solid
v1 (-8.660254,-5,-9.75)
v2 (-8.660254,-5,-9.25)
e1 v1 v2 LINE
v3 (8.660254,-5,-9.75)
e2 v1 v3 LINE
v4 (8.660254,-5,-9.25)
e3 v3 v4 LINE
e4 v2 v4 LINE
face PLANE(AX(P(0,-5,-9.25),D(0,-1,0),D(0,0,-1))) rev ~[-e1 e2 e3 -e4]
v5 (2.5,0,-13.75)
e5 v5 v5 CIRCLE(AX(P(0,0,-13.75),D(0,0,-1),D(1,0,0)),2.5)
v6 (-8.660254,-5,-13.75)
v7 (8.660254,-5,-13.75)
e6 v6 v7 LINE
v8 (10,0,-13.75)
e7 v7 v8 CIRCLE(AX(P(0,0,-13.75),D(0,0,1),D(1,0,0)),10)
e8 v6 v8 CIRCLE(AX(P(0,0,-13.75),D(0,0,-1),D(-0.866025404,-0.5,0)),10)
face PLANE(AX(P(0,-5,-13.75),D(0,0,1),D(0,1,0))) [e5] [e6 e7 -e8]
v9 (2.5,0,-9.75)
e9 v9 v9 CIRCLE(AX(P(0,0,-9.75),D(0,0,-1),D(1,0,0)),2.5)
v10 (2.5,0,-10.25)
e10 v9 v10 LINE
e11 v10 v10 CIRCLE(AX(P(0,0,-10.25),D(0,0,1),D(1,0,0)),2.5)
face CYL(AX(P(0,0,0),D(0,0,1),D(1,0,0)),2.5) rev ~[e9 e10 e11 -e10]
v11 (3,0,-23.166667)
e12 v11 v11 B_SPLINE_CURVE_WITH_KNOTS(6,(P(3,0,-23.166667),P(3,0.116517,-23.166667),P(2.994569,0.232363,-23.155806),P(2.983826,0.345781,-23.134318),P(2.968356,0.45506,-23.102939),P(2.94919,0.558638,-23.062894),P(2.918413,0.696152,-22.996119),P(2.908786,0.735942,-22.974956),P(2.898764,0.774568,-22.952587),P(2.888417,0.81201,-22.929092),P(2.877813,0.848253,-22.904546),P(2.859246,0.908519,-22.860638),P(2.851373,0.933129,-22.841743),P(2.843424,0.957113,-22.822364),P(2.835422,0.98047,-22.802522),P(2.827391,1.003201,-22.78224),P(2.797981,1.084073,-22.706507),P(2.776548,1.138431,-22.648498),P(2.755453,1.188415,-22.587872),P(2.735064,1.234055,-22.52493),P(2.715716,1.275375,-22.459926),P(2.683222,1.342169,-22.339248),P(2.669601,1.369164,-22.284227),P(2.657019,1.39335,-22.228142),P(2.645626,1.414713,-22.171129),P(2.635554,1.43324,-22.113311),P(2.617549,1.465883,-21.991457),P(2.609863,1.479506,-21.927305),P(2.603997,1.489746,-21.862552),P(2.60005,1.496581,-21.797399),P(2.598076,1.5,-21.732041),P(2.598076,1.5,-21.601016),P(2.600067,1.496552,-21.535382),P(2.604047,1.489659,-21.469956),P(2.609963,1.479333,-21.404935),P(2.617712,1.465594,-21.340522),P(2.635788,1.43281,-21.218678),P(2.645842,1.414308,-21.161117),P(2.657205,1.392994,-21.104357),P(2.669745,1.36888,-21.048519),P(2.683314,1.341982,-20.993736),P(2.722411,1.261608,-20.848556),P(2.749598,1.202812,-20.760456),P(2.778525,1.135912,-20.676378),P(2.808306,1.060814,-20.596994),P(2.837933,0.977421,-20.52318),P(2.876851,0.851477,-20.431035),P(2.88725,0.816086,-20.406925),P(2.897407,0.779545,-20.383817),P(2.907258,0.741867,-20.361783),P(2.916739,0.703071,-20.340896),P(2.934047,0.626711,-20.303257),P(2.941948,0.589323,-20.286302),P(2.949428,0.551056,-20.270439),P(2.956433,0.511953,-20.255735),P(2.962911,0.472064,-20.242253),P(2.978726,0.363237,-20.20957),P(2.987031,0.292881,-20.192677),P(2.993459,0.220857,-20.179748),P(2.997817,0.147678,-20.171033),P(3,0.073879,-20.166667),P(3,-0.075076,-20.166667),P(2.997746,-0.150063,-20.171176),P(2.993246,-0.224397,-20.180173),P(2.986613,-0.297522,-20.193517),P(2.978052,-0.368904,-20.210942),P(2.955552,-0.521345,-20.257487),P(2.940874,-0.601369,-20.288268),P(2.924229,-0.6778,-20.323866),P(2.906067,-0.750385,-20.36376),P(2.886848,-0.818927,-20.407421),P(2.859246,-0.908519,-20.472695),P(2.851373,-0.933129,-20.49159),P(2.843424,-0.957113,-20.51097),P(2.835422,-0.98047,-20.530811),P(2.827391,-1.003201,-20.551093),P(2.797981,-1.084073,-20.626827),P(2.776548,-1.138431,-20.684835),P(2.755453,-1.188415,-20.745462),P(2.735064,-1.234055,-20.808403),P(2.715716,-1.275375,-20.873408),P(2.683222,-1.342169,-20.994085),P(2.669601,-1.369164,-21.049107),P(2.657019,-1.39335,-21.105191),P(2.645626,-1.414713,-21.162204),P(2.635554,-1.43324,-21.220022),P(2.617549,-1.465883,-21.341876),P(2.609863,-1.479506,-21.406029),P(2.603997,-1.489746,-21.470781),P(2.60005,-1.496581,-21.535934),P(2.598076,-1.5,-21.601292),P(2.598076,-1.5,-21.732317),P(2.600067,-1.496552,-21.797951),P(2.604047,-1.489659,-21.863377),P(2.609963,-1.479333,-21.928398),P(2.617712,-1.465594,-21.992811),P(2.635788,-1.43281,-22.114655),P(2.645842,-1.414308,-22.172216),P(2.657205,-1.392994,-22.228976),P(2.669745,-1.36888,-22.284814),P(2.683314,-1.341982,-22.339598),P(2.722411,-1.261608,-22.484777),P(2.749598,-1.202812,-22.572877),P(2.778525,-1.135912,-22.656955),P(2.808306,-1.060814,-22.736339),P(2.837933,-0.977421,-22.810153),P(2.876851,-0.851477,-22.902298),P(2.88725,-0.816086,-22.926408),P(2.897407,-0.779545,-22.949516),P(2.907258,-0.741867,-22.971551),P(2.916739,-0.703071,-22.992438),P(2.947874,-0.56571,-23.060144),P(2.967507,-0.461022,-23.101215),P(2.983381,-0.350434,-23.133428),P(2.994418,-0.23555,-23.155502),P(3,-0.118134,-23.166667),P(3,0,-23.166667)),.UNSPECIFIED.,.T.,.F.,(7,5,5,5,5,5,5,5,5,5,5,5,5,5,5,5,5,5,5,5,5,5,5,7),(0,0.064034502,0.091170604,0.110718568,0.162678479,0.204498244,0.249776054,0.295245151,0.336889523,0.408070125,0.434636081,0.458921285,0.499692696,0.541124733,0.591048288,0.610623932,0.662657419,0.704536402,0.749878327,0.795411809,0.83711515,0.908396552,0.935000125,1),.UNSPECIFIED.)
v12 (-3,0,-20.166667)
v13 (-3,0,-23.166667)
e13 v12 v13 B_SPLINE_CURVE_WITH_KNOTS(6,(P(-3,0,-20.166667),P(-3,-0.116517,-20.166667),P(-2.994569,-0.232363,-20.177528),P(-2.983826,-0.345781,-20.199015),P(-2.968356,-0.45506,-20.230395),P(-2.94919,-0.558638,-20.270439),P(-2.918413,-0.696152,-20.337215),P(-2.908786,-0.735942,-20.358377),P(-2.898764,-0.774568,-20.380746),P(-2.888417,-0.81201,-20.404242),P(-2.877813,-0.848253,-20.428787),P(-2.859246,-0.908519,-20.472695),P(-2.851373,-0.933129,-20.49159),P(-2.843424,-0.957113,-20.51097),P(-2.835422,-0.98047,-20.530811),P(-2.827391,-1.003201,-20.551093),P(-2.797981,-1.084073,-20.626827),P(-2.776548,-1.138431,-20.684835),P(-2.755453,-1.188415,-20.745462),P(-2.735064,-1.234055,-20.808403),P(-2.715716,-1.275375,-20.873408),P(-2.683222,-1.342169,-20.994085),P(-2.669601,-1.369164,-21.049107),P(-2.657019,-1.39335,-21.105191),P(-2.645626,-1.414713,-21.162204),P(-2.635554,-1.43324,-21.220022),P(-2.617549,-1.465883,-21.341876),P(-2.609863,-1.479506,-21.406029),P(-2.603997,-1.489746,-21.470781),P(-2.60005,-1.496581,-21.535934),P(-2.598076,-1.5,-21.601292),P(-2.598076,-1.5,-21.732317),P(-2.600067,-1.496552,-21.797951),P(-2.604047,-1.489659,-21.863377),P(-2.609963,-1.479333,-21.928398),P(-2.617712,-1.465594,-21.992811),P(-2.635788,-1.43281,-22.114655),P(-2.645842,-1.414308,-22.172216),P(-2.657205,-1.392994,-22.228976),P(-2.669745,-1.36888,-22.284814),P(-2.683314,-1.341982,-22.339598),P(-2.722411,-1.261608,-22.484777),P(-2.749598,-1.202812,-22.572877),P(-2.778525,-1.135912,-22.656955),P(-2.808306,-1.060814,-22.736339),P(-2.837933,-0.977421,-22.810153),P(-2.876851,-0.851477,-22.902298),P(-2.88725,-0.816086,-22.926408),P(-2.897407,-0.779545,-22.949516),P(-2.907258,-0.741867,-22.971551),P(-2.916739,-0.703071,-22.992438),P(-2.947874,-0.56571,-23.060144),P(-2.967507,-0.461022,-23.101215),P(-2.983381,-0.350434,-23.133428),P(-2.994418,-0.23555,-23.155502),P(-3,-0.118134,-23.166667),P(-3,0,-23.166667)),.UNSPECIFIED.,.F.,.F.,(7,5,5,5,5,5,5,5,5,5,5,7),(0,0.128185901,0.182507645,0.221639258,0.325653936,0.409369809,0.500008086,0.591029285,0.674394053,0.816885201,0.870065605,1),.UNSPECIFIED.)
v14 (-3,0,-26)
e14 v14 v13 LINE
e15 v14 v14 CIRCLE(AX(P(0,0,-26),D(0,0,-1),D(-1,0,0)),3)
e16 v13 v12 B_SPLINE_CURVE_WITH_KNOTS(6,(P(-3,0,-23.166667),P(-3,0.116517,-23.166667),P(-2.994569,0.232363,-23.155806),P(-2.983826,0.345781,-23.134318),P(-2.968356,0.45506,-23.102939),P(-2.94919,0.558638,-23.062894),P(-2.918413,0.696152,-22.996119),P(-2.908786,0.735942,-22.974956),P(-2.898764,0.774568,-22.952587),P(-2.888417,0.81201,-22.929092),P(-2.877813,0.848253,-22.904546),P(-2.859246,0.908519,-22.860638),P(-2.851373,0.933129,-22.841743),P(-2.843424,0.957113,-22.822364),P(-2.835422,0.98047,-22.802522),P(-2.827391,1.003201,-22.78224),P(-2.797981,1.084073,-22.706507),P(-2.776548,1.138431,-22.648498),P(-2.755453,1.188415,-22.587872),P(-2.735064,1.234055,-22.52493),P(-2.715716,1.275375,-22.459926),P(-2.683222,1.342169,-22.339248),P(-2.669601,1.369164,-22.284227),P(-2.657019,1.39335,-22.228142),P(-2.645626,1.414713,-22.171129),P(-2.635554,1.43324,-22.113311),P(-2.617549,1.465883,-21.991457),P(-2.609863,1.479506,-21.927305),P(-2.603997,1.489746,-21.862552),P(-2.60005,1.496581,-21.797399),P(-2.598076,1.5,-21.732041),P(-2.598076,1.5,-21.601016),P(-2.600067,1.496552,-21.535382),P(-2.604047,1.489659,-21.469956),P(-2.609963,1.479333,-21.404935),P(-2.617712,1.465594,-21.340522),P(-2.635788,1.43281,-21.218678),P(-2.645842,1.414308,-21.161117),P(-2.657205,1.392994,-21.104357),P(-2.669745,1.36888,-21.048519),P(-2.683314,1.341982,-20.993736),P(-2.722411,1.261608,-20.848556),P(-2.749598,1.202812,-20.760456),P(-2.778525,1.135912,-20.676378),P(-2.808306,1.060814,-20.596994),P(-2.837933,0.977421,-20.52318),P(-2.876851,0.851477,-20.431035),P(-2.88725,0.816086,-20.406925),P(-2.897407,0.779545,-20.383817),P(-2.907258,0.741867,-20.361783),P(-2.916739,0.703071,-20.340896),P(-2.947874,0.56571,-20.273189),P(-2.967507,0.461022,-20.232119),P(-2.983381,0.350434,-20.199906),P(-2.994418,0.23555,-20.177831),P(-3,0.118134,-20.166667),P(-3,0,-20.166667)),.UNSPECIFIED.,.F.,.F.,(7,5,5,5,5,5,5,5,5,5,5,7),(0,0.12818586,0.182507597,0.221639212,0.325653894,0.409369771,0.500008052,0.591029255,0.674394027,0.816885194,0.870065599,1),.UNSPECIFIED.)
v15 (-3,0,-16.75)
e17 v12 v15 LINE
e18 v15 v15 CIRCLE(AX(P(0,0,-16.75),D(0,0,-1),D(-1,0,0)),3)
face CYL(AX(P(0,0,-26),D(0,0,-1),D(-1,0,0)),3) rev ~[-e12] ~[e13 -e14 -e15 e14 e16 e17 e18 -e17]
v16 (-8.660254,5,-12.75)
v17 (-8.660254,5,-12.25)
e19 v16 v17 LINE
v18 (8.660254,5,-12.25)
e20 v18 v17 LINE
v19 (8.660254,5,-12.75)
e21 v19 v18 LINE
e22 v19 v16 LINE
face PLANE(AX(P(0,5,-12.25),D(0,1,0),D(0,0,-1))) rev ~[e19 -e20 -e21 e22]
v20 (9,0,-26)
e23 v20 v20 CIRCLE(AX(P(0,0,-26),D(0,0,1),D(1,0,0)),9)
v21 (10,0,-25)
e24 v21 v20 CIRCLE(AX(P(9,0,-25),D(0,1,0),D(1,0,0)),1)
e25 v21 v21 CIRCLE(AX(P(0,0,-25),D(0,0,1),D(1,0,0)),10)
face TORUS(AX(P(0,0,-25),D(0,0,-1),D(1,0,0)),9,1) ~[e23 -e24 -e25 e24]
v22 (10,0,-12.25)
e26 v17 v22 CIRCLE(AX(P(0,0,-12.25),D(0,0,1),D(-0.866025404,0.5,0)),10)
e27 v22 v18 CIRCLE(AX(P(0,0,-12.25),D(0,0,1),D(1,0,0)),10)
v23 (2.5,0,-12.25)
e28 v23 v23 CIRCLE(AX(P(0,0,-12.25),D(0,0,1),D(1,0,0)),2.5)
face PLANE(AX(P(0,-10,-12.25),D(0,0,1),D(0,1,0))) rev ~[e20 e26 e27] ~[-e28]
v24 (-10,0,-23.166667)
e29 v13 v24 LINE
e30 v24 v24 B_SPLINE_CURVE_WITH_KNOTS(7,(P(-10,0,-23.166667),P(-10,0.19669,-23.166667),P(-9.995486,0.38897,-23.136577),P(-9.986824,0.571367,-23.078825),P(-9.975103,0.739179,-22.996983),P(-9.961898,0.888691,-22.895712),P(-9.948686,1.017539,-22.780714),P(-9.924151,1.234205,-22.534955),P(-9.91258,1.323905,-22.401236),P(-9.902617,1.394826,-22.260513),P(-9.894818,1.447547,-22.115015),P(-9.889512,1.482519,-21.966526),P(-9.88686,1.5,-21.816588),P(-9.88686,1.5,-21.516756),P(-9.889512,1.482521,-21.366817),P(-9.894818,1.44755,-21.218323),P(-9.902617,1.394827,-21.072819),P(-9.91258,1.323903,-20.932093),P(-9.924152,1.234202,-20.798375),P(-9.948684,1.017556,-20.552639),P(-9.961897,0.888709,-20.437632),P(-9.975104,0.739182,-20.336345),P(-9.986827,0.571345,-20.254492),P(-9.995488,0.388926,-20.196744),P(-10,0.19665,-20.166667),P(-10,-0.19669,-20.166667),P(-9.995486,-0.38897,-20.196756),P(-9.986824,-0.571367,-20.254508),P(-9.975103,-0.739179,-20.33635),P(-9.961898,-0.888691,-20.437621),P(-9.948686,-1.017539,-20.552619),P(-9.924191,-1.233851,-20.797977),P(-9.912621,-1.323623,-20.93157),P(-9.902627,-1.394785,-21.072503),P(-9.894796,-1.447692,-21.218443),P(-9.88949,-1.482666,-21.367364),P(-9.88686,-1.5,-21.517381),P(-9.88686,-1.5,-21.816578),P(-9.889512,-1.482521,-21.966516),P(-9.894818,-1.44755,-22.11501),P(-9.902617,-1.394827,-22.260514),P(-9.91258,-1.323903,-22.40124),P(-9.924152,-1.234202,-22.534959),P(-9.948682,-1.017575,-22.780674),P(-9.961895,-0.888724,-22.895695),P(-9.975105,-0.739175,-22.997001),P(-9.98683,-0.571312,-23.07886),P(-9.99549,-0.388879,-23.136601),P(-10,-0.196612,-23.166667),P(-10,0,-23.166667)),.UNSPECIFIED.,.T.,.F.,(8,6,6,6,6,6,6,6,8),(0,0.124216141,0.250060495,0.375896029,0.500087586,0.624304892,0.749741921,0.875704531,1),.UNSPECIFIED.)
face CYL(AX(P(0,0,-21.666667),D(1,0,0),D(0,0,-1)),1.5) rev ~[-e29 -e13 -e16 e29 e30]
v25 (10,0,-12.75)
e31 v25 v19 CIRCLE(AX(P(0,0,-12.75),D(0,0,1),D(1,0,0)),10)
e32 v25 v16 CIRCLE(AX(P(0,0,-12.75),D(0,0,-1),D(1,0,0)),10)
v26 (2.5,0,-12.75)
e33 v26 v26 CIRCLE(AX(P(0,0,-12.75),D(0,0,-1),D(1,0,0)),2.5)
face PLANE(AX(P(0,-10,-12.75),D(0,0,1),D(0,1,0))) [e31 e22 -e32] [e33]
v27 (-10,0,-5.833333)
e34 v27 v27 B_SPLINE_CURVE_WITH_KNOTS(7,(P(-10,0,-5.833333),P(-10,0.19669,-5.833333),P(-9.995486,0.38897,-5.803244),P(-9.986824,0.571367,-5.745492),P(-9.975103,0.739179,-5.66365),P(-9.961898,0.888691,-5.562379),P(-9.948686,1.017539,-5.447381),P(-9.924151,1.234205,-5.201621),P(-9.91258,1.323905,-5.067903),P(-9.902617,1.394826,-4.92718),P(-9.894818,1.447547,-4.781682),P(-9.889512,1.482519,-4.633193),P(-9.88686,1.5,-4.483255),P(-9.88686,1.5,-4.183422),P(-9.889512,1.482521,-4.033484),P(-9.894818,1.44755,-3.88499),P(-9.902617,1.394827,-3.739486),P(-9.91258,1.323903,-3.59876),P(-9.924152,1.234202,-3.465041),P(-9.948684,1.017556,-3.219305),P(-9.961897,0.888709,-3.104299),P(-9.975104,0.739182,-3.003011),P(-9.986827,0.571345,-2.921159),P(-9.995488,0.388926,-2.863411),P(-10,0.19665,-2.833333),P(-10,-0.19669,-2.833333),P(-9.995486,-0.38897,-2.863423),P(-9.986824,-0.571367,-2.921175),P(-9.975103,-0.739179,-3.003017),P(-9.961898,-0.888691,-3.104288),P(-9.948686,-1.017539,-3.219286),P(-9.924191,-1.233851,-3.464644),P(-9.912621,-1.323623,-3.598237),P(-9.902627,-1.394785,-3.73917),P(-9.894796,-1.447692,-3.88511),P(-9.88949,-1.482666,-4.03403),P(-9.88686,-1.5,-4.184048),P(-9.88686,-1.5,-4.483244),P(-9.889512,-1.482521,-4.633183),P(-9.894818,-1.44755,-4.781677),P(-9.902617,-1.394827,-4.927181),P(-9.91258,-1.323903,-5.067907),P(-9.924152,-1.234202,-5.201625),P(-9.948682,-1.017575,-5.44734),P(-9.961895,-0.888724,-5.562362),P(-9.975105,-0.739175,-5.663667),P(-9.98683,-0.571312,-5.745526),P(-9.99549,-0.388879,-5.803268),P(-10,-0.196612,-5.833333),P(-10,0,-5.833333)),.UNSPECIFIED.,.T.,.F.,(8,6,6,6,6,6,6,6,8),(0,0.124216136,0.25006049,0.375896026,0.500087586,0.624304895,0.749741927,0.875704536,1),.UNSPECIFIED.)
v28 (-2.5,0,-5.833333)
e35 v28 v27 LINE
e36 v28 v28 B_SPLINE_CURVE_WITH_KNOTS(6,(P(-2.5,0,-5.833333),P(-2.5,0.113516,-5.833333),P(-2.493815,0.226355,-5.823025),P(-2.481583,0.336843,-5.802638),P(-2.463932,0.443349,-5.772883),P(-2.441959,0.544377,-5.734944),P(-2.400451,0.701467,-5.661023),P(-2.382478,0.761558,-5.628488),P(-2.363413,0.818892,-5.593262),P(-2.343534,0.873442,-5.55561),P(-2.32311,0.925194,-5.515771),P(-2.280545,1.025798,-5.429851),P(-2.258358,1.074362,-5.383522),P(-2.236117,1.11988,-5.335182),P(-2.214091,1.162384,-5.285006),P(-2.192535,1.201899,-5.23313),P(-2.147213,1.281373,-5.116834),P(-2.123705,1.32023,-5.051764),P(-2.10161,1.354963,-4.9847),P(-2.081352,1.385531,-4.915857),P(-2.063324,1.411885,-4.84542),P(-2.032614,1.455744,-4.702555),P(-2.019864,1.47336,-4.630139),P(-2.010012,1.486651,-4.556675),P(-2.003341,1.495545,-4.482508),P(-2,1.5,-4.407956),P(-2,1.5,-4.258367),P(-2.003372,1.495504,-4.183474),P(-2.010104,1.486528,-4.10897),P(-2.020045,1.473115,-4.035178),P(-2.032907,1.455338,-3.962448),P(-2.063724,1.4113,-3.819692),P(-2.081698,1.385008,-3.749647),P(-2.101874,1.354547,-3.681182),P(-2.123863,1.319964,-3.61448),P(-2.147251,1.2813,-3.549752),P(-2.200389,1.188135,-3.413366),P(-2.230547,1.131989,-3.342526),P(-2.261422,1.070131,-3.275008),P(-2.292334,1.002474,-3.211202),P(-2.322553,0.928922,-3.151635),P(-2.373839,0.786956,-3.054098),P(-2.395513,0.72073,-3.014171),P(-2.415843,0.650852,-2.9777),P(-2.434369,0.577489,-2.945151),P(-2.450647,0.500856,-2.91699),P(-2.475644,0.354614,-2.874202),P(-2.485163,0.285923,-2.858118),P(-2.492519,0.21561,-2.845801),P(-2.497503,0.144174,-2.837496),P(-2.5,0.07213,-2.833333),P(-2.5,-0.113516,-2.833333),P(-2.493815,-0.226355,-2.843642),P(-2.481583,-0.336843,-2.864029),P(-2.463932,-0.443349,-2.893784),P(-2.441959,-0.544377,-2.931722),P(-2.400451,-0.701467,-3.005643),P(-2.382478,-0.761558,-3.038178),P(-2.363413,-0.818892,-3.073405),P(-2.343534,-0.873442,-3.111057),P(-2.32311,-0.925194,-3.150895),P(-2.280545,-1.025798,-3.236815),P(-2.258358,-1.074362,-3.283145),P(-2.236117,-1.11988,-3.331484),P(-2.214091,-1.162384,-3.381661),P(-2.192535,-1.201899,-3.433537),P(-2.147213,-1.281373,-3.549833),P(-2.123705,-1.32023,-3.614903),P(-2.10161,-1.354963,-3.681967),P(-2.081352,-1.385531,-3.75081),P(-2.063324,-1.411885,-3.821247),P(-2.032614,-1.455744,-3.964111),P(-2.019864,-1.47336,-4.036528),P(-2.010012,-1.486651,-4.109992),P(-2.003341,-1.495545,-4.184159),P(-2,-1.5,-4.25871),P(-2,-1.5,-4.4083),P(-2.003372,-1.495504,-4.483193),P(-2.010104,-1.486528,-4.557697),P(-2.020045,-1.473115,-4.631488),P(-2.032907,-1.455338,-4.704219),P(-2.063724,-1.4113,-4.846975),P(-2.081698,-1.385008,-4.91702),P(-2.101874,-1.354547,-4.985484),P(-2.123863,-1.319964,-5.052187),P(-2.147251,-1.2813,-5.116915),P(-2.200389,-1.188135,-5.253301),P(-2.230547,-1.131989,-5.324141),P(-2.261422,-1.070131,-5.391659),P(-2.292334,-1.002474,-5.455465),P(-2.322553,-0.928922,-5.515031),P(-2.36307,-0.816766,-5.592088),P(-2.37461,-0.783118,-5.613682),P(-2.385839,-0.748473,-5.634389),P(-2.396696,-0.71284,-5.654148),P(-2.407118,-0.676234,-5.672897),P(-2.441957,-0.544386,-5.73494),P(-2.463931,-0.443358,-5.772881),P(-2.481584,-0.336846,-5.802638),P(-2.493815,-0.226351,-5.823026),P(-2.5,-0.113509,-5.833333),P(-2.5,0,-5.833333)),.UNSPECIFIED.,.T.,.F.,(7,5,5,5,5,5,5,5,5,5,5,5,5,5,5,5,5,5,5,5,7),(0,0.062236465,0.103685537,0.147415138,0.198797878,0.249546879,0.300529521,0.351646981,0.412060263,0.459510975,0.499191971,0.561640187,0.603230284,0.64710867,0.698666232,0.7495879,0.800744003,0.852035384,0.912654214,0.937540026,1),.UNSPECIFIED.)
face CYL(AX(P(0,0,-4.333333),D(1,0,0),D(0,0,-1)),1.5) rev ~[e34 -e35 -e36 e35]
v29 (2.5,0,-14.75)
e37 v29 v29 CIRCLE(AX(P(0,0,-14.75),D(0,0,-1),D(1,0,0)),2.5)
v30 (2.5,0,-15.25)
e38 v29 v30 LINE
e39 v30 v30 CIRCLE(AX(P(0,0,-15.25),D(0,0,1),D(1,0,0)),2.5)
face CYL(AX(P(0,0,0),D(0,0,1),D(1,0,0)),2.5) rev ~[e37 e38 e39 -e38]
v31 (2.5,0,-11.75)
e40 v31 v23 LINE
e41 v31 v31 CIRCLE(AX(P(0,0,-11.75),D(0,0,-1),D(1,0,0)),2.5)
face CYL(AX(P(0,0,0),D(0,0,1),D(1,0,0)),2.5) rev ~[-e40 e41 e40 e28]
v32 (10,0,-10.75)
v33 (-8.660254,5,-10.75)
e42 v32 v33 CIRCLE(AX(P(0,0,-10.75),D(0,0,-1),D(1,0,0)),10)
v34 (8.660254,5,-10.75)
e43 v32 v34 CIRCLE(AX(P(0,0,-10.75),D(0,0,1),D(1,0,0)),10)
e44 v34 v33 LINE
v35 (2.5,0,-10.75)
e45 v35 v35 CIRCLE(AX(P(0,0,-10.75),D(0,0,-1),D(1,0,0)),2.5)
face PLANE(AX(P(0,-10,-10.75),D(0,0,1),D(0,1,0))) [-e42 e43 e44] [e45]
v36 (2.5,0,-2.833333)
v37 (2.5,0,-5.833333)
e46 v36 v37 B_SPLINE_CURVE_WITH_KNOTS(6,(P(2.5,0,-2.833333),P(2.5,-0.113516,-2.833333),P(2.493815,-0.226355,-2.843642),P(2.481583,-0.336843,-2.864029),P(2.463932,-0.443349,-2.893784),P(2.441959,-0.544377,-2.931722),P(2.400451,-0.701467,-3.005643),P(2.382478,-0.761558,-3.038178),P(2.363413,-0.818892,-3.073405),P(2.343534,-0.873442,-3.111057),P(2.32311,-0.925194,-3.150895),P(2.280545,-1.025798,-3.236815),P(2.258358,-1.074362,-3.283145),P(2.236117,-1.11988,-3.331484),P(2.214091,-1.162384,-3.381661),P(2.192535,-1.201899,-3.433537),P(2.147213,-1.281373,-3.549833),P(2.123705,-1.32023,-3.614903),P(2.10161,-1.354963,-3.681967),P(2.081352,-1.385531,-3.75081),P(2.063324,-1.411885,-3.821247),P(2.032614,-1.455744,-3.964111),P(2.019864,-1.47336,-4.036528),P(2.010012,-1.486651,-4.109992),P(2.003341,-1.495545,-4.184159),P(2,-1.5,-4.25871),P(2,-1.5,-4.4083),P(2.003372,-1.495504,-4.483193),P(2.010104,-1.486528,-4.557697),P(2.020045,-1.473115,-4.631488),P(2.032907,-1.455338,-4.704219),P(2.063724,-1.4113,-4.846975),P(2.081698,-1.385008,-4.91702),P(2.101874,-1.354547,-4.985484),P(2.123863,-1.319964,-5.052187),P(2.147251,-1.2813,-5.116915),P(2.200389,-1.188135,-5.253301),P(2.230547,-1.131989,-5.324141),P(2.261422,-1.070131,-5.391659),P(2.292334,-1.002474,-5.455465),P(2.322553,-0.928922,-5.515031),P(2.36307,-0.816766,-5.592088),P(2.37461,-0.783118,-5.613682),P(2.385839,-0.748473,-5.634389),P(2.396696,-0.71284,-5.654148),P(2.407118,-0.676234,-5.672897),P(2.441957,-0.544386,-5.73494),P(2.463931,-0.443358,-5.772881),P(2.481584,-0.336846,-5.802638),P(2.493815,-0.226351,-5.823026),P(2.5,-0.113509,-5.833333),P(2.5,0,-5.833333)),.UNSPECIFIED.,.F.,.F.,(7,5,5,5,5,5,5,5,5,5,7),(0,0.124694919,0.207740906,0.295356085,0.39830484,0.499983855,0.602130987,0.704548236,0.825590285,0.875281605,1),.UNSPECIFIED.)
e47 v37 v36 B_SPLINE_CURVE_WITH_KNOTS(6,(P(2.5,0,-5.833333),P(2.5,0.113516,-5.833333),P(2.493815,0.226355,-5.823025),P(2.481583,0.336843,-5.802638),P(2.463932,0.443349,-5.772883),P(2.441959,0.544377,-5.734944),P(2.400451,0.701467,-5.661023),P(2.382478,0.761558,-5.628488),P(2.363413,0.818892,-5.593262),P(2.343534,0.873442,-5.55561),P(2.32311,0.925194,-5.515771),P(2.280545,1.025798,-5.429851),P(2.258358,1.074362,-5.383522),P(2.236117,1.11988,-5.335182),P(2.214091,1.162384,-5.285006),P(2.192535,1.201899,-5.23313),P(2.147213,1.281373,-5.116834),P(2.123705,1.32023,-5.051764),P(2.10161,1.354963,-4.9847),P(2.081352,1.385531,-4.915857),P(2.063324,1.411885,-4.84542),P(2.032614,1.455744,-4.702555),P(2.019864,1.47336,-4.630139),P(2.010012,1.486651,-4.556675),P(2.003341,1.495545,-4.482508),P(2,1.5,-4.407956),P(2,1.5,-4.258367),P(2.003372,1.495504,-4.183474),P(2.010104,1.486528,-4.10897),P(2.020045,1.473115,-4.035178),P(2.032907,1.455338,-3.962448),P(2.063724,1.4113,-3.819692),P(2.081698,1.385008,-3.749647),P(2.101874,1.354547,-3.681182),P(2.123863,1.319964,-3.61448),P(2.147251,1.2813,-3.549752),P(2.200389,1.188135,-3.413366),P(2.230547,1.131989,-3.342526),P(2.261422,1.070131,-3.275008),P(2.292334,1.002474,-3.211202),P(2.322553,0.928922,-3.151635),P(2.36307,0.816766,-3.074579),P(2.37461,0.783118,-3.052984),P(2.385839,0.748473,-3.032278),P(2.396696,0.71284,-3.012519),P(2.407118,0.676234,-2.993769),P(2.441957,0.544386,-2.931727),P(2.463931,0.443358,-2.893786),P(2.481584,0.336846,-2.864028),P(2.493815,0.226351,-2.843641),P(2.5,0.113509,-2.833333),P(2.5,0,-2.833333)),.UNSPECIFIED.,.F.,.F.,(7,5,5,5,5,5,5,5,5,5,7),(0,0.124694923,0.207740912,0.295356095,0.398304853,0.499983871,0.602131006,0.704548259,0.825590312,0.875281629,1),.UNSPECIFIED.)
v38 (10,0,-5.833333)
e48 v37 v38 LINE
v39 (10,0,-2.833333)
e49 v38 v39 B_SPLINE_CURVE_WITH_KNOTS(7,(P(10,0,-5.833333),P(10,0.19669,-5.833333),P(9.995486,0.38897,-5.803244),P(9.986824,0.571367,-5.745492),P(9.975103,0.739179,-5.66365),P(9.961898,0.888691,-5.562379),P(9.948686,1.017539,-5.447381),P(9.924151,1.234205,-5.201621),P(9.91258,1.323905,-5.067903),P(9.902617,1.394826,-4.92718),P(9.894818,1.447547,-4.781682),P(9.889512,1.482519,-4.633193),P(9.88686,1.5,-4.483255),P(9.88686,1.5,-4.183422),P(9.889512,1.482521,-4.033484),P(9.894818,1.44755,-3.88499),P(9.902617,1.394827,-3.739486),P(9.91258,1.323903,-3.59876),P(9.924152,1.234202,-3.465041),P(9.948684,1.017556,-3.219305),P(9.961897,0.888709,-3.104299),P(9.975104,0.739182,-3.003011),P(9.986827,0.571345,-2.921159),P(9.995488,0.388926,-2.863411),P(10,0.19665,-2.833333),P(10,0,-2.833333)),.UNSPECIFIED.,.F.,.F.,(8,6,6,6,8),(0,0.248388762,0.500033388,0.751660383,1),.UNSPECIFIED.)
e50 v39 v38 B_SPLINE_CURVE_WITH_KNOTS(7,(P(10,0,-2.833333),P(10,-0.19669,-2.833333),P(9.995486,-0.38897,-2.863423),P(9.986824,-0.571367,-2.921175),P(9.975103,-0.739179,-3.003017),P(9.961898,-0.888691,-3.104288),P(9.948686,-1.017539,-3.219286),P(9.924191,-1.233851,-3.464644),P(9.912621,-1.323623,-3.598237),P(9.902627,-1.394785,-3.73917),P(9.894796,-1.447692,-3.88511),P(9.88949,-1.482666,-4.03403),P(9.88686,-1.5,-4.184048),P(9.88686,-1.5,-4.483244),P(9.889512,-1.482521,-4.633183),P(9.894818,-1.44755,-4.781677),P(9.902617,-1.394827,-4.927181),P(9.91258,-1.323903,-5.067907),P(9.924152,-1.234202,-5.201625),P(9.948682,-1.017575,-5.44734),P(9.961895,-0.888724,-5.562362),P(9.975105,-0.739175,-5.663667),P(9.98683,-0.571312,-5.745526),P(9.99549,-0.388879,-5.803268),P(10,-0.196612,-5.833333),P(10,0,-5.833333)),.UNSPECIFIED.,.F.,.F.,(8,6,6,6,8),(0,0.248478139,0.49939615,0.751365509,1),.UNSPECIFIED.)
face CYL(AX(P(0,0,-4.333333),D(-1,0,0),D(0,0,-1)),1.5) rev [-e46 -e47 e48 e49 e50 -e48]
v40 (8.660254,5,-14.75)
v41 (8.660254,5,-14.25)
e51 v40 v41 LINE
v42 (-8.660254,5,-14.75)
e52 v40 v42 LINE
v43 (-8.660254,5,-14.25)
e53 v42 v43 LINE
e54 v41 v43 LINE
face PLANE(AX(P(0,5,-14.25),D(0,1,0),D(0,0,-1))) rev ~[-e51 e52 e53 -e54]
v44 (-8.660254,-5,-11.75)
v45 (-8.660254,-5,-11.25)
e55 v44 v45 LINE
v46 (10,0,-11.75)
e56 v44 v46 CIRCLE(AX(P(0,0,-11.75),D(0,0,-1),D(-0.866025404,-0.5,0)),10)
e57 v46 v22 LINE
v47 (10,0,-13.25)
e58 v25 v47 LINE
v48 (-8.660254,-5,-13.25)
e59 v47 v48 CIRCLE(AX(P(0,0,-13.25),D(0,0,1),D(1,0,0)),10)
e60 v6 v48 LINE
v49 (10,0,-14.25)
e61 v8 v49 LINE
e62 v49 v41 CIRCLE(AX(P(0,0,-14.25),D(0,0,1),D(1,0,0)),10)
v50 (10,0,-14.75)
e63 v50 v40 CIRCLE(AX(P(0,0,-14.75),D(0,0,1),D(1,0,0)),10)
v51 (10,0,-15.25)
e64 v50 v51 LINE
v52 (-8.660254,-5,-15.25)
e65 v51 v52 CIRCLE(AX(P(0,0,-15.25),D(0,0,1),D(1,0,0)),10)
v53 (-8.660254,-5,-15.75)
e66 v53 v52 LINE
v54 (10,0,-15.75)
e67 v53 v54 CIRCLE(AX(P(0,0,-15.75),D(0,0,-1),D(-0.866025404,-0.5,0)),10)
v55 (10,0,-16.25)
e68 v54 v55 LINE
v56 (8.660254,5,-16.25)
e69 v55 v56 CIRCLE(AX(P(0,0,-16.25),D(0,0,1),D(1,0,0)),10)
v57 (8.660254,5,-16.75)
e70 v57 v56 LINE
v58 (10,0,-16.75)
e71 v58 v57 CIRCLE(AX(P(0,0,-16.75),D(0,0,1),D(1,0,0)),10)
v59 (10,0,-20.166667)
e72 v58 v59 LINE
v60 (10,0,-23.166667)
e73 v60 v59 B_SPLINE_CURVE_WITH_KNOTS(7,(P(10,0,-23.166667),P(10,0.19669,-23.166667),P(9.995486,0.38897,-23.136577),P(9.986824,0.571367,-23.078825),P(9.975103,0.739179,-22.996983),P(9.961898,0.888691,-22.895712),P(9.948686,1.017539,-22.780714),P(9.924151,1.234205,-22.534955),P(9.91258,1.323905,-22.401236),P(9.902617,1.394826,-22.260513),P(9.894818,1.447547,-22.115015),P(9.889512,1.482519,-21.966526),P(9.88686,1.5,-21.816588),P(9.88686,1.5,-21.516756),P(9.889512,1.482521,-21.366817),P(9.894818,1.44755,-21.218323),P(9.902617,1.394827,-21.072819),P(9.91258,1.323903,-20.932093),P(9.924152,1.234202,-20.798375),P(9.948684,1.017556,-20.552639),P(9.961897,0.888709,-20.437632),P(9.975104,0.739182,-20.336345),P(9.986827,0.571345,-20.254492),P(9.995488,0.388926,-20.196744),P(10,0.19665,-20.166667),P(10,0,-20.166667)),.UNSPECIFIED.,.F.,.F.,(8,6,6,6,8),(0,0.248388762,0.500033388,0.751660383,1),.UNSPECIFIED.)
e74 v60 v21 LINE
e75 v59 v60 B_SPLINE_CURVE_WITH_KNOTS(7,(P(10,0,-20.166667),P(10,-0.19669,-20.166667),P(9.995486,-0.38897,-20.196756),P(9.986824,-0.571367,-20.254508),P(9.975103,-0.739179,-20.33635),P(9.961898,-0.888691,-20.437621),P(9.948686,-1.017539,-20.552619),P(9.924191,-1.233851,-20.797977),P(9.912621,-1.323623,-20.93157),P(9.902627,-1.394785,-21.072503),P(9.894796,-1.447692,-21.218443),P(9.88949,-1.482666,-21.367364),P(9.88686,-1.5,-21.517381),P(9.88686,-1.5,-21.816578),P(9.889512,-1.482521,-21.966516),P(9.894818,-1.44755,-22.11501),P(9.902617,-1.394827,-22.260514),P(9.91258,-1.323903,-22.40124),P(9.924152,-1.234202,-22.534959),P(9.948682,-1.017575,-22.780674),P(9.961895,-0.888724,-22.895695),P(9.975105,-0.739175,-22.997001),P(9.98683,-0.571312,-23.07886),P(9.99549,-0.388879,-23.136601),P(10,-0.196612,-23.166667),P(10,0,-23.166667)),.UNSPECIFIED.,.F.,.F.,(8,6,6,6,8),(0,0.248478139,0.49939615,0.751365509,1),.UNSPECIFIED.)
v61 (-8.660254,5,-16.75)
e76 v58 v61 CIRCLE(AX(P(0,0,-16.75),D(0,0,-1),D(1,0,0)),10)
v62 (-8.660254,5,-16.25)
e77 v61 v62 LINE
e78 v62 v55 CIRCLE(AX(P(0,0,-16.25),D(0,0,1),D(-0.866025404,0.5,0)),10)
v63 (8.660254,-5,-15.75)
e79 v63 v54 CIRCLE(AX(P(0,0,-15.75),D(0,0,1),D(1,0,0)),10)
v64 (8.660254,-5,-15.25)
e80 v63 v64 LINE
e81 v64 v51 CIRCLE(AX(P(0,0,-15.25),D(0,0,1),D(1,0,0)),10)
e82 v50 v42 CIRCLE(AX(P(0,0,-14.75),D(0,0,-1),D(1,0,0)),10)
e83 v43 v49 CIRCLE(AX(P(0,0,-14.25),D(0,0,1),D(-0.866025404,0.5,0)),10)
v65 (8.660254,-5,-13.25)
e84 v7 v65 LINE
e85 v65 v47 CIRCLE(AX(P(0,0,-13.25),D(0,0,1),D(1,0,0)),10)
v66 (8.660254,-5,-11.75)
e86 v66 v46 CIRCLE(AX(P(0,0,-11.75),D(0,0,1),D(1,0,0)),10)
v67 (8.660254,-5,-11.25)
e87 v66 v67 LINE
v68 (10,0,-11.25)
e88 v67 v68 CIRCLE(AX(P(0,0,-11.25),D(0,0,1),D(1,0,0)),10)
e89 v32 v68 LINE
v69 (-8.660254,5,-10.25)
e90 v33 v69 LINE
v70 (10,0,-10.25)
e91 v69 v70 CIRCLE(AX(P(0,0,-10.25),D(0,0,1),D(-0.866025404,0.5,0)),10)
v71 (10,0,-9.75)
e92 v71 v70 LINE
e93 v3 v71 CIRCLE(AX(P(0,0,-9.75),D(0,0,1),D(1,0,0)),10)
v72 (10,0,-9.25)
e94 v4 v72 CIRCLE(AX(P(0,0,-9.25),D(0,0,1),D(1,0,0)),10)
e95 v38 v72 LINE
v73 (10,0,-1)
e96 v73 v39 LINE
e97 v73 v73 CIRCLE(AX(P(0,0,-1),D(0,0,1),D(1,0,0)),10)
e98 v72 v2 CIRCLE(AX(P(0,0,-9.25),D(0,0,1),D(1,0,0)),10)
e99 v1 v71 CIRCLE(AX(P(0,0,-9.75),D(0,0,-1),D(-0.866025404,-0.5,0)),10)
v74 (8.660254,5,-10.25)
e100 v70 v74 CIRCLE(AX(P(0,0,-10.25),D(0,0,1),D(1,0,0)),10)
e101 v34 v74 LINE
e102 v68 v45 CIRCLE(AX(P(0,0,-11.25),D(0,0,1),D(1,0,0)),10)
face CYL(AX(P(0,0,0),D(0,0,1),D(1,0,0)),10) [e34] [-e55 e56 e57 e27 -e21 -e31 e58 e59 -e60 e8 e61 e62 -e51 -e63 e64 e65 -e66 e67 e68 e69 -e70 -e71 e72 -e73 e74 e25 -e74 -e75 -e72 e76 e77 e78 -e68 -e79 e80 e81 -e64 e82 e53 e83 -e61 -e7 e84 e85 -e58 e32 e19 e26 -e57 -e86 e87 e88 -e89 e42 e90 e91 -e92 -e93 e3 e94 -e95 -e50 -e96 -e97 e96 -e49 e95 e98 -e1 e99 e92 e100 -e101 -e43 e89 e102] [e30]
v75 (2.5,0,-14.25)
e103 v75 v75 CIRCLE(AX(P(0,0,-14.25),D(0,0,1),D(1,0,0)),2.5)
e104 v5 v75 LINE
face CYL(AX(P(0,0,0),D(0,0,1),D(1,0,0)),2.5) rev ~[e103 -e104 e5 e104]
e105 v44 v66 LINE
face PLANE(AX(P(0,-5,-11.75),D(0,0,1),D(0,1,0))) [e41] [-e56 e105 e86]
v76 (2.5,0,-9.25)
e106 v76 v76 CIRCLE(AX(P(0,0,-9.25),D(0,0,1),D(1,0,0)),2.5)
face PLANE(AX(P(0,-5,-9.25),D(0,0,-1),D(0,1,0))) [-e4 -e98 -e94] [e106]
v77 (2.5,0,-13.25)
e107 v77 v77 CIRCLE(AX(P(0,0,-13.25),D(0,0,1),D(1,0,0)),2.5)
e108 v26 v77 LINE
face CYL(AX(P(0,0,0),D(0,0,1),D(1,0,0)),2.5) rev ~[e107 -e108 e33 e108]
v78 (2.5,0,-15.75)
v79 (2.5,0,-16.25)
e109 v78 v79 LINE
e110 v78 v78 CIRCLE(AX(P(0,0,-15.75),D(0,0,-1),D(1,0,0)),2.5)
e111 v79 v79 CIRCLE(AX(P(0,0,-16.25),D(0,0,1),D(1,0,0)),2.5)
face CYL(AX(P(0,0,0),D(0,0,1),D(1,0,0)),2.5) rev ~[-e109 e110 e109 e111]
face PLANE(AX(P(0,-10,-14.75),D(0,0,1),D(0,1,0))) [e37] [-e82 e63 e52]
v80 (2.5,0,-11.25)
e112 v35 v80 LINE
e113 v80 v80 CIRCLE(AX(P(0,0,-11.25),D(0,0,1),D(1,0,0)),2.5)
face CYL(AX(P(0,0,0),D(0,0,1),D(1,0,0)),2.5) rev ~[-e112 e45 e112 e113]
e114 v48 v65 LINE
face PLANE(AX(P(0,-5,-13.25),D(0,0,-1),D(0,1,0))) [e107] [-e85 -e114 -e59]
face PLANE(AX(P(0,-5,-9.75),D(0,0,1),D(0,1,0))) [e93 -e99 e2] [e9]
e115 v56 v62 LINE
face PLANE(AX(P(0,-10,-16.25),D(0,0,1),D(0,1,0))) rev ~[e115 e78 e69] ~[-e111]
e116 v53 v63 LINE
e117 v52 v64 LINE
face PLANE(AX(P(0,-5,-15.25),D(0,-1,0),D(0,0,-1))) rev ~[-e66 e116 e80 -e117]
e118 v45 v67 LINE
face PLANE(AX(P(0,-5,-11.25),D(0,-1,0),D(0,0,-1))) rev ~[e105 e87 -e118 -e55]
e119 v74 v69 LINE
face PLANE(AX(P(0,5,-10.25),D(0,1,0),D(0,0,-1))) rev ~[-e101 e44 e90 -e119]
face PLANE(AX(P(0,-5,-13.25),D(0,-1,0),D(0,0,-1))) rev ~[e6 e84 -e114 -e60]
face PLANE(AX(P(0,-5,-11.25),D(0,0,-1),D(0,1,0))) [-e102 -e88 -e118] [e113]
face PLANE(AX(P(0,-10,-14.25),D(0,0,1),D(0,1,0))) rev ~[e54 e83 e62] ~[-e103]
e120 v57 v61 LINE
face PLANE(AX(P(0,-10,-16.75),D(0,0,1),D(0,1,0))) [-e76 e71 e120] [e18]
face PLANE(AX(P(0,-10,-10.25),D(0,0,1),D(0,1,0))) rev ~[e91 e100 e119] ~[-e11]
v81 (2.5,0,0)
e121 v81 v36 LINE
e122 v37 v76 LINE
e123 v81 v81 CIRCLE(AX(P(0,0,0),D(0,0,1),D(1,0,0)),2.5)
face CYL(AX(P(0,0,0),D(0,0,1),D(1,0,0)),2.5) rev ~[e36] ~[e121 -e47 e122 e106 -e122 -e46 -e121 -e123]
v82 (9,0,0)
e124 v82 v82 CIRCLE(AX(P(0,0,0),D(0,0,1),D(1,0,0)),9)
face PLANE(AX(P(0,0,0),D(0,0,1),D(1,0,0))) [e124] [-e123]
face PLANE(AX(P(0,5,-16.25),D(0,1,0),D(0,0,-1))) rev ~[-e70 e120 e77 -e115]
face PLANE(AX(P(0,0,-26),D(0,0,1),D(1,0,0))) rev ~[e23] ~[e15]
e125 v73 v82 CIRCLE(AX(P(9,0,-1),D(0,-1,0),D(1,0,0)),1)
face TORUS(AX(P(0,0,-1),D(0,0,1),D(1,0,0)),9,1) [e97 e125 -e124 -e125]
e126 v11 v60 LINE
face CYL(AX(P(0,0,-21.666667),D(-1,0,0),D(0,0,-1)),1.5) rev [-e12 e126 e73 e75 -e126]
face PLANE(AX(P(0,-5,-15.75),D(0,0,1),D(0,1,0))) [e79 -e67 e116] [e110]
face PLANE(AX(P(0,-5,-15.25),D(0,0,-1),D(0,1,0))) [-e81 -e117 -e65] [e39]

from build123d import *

# Parameters (mm, degrees)
SKETCH_1_R               = 10
SKETCH_1_R_2             = 2.5
EXTRUDE_1_DEPTH          = 26
SKETCH_2_R               = 1.5
SKETCH_2_W               = 0.5
SKETCH_2_H               = 15
CUT_EXTRUDE_1_DEPTH      = 11
CUT_EXTRUDE_1_DEPTH_BACK = 11
SKETCH_3_R               = 3
CUT_EXTRUDE_2_DEPTH      = 9.25
FILLET_1_R               = 1


with BuildPart() as part:
    # Эскиз1 → Бобышка-Вытянуть1 (new body)
    with BuildSketch(Plane.XY):
        Circle(SKETCH_1_R)
        Circle(SKETCH_1_R_2, mode=Mode.SUBTRACT)
    extrude(amount=-EXTRUDE_1_DEPTH)

    # Эскиз2 → Вырез-Вытянуть1 (cut, two sides)
    with BuildSketch(Plane(origin=(0, 0, 0), x_dir=(0, 0, -1), z_dir=(1, 0, 0))) as cut_extrude_1_sk:
        with Locations((4.333333333, 0)):
            Circle(SKETCH_2_R)
        with Locations((21.666666667, 0)):
            Circle(SKETCH_2_R)
        with Locations((13.5, 2.5)):
            Rectangle(SKETCH_2_W, SKETCH_2_H)
        with Locations((15.5, 2.5)):
            Rectangle(SKETCH_2_W, SKETCH_2_H)
        with Locations((14.5, -2.5)):
            Rectangle(SKETCH_2_W, SKETCH_2_H)
        with Locations((16.5, -2.5)):
            Rectangle(SKETCH_2_W, SKETCH_2_H)
        with Locations((11.5, 2.5)):
            Rectangle(SKETCH_2_W, SKETCH_2_H)
        with Locations((12.5, -2.5)):
            Rectangle(SKETCH_2_W, SKETCH_2_H)
        with Locations((9.5, 2.5)):
            Rectangle(SKETCH_2_W, SKETCH_2_H)
        with Locations((10.5, -2.5)):
            Rectangle(SKETCH_2_W, SKETCH_2_H)
    extrude(amount=CUT_EXTRUDE_1_DEPTH, mode=Mode.SUBTRACT)
    extrude(cut_extrude_1_sk.sketch, amount=-CUT_EXTRUDE_1_DEPTH_BACK, mode=Mode.SUBTRACT)

    # Эскиз3 → Вырез-Вытянуть2 (cut)
    with BuildSketch(Plane(origin=(0, 0, -26), x_dir=(-1, 0, 0), z_dir=(0, 0, -1))):
        Circle(SKETCH_3_R)
    extrude(amount=-CUT_EXTRUDE_2_DEPTH, mode=Mode.SUBTRACT)

    # Скругление1
    fillet_1_edges = [part.edges().sort_by_distance(p)[0] for p in [
        (-10, 0, 0),
        (-10, 0, -26),
    ]]
    fillet(fillet_1_edges, radius=FILLET_1_R)


solid = part.part
